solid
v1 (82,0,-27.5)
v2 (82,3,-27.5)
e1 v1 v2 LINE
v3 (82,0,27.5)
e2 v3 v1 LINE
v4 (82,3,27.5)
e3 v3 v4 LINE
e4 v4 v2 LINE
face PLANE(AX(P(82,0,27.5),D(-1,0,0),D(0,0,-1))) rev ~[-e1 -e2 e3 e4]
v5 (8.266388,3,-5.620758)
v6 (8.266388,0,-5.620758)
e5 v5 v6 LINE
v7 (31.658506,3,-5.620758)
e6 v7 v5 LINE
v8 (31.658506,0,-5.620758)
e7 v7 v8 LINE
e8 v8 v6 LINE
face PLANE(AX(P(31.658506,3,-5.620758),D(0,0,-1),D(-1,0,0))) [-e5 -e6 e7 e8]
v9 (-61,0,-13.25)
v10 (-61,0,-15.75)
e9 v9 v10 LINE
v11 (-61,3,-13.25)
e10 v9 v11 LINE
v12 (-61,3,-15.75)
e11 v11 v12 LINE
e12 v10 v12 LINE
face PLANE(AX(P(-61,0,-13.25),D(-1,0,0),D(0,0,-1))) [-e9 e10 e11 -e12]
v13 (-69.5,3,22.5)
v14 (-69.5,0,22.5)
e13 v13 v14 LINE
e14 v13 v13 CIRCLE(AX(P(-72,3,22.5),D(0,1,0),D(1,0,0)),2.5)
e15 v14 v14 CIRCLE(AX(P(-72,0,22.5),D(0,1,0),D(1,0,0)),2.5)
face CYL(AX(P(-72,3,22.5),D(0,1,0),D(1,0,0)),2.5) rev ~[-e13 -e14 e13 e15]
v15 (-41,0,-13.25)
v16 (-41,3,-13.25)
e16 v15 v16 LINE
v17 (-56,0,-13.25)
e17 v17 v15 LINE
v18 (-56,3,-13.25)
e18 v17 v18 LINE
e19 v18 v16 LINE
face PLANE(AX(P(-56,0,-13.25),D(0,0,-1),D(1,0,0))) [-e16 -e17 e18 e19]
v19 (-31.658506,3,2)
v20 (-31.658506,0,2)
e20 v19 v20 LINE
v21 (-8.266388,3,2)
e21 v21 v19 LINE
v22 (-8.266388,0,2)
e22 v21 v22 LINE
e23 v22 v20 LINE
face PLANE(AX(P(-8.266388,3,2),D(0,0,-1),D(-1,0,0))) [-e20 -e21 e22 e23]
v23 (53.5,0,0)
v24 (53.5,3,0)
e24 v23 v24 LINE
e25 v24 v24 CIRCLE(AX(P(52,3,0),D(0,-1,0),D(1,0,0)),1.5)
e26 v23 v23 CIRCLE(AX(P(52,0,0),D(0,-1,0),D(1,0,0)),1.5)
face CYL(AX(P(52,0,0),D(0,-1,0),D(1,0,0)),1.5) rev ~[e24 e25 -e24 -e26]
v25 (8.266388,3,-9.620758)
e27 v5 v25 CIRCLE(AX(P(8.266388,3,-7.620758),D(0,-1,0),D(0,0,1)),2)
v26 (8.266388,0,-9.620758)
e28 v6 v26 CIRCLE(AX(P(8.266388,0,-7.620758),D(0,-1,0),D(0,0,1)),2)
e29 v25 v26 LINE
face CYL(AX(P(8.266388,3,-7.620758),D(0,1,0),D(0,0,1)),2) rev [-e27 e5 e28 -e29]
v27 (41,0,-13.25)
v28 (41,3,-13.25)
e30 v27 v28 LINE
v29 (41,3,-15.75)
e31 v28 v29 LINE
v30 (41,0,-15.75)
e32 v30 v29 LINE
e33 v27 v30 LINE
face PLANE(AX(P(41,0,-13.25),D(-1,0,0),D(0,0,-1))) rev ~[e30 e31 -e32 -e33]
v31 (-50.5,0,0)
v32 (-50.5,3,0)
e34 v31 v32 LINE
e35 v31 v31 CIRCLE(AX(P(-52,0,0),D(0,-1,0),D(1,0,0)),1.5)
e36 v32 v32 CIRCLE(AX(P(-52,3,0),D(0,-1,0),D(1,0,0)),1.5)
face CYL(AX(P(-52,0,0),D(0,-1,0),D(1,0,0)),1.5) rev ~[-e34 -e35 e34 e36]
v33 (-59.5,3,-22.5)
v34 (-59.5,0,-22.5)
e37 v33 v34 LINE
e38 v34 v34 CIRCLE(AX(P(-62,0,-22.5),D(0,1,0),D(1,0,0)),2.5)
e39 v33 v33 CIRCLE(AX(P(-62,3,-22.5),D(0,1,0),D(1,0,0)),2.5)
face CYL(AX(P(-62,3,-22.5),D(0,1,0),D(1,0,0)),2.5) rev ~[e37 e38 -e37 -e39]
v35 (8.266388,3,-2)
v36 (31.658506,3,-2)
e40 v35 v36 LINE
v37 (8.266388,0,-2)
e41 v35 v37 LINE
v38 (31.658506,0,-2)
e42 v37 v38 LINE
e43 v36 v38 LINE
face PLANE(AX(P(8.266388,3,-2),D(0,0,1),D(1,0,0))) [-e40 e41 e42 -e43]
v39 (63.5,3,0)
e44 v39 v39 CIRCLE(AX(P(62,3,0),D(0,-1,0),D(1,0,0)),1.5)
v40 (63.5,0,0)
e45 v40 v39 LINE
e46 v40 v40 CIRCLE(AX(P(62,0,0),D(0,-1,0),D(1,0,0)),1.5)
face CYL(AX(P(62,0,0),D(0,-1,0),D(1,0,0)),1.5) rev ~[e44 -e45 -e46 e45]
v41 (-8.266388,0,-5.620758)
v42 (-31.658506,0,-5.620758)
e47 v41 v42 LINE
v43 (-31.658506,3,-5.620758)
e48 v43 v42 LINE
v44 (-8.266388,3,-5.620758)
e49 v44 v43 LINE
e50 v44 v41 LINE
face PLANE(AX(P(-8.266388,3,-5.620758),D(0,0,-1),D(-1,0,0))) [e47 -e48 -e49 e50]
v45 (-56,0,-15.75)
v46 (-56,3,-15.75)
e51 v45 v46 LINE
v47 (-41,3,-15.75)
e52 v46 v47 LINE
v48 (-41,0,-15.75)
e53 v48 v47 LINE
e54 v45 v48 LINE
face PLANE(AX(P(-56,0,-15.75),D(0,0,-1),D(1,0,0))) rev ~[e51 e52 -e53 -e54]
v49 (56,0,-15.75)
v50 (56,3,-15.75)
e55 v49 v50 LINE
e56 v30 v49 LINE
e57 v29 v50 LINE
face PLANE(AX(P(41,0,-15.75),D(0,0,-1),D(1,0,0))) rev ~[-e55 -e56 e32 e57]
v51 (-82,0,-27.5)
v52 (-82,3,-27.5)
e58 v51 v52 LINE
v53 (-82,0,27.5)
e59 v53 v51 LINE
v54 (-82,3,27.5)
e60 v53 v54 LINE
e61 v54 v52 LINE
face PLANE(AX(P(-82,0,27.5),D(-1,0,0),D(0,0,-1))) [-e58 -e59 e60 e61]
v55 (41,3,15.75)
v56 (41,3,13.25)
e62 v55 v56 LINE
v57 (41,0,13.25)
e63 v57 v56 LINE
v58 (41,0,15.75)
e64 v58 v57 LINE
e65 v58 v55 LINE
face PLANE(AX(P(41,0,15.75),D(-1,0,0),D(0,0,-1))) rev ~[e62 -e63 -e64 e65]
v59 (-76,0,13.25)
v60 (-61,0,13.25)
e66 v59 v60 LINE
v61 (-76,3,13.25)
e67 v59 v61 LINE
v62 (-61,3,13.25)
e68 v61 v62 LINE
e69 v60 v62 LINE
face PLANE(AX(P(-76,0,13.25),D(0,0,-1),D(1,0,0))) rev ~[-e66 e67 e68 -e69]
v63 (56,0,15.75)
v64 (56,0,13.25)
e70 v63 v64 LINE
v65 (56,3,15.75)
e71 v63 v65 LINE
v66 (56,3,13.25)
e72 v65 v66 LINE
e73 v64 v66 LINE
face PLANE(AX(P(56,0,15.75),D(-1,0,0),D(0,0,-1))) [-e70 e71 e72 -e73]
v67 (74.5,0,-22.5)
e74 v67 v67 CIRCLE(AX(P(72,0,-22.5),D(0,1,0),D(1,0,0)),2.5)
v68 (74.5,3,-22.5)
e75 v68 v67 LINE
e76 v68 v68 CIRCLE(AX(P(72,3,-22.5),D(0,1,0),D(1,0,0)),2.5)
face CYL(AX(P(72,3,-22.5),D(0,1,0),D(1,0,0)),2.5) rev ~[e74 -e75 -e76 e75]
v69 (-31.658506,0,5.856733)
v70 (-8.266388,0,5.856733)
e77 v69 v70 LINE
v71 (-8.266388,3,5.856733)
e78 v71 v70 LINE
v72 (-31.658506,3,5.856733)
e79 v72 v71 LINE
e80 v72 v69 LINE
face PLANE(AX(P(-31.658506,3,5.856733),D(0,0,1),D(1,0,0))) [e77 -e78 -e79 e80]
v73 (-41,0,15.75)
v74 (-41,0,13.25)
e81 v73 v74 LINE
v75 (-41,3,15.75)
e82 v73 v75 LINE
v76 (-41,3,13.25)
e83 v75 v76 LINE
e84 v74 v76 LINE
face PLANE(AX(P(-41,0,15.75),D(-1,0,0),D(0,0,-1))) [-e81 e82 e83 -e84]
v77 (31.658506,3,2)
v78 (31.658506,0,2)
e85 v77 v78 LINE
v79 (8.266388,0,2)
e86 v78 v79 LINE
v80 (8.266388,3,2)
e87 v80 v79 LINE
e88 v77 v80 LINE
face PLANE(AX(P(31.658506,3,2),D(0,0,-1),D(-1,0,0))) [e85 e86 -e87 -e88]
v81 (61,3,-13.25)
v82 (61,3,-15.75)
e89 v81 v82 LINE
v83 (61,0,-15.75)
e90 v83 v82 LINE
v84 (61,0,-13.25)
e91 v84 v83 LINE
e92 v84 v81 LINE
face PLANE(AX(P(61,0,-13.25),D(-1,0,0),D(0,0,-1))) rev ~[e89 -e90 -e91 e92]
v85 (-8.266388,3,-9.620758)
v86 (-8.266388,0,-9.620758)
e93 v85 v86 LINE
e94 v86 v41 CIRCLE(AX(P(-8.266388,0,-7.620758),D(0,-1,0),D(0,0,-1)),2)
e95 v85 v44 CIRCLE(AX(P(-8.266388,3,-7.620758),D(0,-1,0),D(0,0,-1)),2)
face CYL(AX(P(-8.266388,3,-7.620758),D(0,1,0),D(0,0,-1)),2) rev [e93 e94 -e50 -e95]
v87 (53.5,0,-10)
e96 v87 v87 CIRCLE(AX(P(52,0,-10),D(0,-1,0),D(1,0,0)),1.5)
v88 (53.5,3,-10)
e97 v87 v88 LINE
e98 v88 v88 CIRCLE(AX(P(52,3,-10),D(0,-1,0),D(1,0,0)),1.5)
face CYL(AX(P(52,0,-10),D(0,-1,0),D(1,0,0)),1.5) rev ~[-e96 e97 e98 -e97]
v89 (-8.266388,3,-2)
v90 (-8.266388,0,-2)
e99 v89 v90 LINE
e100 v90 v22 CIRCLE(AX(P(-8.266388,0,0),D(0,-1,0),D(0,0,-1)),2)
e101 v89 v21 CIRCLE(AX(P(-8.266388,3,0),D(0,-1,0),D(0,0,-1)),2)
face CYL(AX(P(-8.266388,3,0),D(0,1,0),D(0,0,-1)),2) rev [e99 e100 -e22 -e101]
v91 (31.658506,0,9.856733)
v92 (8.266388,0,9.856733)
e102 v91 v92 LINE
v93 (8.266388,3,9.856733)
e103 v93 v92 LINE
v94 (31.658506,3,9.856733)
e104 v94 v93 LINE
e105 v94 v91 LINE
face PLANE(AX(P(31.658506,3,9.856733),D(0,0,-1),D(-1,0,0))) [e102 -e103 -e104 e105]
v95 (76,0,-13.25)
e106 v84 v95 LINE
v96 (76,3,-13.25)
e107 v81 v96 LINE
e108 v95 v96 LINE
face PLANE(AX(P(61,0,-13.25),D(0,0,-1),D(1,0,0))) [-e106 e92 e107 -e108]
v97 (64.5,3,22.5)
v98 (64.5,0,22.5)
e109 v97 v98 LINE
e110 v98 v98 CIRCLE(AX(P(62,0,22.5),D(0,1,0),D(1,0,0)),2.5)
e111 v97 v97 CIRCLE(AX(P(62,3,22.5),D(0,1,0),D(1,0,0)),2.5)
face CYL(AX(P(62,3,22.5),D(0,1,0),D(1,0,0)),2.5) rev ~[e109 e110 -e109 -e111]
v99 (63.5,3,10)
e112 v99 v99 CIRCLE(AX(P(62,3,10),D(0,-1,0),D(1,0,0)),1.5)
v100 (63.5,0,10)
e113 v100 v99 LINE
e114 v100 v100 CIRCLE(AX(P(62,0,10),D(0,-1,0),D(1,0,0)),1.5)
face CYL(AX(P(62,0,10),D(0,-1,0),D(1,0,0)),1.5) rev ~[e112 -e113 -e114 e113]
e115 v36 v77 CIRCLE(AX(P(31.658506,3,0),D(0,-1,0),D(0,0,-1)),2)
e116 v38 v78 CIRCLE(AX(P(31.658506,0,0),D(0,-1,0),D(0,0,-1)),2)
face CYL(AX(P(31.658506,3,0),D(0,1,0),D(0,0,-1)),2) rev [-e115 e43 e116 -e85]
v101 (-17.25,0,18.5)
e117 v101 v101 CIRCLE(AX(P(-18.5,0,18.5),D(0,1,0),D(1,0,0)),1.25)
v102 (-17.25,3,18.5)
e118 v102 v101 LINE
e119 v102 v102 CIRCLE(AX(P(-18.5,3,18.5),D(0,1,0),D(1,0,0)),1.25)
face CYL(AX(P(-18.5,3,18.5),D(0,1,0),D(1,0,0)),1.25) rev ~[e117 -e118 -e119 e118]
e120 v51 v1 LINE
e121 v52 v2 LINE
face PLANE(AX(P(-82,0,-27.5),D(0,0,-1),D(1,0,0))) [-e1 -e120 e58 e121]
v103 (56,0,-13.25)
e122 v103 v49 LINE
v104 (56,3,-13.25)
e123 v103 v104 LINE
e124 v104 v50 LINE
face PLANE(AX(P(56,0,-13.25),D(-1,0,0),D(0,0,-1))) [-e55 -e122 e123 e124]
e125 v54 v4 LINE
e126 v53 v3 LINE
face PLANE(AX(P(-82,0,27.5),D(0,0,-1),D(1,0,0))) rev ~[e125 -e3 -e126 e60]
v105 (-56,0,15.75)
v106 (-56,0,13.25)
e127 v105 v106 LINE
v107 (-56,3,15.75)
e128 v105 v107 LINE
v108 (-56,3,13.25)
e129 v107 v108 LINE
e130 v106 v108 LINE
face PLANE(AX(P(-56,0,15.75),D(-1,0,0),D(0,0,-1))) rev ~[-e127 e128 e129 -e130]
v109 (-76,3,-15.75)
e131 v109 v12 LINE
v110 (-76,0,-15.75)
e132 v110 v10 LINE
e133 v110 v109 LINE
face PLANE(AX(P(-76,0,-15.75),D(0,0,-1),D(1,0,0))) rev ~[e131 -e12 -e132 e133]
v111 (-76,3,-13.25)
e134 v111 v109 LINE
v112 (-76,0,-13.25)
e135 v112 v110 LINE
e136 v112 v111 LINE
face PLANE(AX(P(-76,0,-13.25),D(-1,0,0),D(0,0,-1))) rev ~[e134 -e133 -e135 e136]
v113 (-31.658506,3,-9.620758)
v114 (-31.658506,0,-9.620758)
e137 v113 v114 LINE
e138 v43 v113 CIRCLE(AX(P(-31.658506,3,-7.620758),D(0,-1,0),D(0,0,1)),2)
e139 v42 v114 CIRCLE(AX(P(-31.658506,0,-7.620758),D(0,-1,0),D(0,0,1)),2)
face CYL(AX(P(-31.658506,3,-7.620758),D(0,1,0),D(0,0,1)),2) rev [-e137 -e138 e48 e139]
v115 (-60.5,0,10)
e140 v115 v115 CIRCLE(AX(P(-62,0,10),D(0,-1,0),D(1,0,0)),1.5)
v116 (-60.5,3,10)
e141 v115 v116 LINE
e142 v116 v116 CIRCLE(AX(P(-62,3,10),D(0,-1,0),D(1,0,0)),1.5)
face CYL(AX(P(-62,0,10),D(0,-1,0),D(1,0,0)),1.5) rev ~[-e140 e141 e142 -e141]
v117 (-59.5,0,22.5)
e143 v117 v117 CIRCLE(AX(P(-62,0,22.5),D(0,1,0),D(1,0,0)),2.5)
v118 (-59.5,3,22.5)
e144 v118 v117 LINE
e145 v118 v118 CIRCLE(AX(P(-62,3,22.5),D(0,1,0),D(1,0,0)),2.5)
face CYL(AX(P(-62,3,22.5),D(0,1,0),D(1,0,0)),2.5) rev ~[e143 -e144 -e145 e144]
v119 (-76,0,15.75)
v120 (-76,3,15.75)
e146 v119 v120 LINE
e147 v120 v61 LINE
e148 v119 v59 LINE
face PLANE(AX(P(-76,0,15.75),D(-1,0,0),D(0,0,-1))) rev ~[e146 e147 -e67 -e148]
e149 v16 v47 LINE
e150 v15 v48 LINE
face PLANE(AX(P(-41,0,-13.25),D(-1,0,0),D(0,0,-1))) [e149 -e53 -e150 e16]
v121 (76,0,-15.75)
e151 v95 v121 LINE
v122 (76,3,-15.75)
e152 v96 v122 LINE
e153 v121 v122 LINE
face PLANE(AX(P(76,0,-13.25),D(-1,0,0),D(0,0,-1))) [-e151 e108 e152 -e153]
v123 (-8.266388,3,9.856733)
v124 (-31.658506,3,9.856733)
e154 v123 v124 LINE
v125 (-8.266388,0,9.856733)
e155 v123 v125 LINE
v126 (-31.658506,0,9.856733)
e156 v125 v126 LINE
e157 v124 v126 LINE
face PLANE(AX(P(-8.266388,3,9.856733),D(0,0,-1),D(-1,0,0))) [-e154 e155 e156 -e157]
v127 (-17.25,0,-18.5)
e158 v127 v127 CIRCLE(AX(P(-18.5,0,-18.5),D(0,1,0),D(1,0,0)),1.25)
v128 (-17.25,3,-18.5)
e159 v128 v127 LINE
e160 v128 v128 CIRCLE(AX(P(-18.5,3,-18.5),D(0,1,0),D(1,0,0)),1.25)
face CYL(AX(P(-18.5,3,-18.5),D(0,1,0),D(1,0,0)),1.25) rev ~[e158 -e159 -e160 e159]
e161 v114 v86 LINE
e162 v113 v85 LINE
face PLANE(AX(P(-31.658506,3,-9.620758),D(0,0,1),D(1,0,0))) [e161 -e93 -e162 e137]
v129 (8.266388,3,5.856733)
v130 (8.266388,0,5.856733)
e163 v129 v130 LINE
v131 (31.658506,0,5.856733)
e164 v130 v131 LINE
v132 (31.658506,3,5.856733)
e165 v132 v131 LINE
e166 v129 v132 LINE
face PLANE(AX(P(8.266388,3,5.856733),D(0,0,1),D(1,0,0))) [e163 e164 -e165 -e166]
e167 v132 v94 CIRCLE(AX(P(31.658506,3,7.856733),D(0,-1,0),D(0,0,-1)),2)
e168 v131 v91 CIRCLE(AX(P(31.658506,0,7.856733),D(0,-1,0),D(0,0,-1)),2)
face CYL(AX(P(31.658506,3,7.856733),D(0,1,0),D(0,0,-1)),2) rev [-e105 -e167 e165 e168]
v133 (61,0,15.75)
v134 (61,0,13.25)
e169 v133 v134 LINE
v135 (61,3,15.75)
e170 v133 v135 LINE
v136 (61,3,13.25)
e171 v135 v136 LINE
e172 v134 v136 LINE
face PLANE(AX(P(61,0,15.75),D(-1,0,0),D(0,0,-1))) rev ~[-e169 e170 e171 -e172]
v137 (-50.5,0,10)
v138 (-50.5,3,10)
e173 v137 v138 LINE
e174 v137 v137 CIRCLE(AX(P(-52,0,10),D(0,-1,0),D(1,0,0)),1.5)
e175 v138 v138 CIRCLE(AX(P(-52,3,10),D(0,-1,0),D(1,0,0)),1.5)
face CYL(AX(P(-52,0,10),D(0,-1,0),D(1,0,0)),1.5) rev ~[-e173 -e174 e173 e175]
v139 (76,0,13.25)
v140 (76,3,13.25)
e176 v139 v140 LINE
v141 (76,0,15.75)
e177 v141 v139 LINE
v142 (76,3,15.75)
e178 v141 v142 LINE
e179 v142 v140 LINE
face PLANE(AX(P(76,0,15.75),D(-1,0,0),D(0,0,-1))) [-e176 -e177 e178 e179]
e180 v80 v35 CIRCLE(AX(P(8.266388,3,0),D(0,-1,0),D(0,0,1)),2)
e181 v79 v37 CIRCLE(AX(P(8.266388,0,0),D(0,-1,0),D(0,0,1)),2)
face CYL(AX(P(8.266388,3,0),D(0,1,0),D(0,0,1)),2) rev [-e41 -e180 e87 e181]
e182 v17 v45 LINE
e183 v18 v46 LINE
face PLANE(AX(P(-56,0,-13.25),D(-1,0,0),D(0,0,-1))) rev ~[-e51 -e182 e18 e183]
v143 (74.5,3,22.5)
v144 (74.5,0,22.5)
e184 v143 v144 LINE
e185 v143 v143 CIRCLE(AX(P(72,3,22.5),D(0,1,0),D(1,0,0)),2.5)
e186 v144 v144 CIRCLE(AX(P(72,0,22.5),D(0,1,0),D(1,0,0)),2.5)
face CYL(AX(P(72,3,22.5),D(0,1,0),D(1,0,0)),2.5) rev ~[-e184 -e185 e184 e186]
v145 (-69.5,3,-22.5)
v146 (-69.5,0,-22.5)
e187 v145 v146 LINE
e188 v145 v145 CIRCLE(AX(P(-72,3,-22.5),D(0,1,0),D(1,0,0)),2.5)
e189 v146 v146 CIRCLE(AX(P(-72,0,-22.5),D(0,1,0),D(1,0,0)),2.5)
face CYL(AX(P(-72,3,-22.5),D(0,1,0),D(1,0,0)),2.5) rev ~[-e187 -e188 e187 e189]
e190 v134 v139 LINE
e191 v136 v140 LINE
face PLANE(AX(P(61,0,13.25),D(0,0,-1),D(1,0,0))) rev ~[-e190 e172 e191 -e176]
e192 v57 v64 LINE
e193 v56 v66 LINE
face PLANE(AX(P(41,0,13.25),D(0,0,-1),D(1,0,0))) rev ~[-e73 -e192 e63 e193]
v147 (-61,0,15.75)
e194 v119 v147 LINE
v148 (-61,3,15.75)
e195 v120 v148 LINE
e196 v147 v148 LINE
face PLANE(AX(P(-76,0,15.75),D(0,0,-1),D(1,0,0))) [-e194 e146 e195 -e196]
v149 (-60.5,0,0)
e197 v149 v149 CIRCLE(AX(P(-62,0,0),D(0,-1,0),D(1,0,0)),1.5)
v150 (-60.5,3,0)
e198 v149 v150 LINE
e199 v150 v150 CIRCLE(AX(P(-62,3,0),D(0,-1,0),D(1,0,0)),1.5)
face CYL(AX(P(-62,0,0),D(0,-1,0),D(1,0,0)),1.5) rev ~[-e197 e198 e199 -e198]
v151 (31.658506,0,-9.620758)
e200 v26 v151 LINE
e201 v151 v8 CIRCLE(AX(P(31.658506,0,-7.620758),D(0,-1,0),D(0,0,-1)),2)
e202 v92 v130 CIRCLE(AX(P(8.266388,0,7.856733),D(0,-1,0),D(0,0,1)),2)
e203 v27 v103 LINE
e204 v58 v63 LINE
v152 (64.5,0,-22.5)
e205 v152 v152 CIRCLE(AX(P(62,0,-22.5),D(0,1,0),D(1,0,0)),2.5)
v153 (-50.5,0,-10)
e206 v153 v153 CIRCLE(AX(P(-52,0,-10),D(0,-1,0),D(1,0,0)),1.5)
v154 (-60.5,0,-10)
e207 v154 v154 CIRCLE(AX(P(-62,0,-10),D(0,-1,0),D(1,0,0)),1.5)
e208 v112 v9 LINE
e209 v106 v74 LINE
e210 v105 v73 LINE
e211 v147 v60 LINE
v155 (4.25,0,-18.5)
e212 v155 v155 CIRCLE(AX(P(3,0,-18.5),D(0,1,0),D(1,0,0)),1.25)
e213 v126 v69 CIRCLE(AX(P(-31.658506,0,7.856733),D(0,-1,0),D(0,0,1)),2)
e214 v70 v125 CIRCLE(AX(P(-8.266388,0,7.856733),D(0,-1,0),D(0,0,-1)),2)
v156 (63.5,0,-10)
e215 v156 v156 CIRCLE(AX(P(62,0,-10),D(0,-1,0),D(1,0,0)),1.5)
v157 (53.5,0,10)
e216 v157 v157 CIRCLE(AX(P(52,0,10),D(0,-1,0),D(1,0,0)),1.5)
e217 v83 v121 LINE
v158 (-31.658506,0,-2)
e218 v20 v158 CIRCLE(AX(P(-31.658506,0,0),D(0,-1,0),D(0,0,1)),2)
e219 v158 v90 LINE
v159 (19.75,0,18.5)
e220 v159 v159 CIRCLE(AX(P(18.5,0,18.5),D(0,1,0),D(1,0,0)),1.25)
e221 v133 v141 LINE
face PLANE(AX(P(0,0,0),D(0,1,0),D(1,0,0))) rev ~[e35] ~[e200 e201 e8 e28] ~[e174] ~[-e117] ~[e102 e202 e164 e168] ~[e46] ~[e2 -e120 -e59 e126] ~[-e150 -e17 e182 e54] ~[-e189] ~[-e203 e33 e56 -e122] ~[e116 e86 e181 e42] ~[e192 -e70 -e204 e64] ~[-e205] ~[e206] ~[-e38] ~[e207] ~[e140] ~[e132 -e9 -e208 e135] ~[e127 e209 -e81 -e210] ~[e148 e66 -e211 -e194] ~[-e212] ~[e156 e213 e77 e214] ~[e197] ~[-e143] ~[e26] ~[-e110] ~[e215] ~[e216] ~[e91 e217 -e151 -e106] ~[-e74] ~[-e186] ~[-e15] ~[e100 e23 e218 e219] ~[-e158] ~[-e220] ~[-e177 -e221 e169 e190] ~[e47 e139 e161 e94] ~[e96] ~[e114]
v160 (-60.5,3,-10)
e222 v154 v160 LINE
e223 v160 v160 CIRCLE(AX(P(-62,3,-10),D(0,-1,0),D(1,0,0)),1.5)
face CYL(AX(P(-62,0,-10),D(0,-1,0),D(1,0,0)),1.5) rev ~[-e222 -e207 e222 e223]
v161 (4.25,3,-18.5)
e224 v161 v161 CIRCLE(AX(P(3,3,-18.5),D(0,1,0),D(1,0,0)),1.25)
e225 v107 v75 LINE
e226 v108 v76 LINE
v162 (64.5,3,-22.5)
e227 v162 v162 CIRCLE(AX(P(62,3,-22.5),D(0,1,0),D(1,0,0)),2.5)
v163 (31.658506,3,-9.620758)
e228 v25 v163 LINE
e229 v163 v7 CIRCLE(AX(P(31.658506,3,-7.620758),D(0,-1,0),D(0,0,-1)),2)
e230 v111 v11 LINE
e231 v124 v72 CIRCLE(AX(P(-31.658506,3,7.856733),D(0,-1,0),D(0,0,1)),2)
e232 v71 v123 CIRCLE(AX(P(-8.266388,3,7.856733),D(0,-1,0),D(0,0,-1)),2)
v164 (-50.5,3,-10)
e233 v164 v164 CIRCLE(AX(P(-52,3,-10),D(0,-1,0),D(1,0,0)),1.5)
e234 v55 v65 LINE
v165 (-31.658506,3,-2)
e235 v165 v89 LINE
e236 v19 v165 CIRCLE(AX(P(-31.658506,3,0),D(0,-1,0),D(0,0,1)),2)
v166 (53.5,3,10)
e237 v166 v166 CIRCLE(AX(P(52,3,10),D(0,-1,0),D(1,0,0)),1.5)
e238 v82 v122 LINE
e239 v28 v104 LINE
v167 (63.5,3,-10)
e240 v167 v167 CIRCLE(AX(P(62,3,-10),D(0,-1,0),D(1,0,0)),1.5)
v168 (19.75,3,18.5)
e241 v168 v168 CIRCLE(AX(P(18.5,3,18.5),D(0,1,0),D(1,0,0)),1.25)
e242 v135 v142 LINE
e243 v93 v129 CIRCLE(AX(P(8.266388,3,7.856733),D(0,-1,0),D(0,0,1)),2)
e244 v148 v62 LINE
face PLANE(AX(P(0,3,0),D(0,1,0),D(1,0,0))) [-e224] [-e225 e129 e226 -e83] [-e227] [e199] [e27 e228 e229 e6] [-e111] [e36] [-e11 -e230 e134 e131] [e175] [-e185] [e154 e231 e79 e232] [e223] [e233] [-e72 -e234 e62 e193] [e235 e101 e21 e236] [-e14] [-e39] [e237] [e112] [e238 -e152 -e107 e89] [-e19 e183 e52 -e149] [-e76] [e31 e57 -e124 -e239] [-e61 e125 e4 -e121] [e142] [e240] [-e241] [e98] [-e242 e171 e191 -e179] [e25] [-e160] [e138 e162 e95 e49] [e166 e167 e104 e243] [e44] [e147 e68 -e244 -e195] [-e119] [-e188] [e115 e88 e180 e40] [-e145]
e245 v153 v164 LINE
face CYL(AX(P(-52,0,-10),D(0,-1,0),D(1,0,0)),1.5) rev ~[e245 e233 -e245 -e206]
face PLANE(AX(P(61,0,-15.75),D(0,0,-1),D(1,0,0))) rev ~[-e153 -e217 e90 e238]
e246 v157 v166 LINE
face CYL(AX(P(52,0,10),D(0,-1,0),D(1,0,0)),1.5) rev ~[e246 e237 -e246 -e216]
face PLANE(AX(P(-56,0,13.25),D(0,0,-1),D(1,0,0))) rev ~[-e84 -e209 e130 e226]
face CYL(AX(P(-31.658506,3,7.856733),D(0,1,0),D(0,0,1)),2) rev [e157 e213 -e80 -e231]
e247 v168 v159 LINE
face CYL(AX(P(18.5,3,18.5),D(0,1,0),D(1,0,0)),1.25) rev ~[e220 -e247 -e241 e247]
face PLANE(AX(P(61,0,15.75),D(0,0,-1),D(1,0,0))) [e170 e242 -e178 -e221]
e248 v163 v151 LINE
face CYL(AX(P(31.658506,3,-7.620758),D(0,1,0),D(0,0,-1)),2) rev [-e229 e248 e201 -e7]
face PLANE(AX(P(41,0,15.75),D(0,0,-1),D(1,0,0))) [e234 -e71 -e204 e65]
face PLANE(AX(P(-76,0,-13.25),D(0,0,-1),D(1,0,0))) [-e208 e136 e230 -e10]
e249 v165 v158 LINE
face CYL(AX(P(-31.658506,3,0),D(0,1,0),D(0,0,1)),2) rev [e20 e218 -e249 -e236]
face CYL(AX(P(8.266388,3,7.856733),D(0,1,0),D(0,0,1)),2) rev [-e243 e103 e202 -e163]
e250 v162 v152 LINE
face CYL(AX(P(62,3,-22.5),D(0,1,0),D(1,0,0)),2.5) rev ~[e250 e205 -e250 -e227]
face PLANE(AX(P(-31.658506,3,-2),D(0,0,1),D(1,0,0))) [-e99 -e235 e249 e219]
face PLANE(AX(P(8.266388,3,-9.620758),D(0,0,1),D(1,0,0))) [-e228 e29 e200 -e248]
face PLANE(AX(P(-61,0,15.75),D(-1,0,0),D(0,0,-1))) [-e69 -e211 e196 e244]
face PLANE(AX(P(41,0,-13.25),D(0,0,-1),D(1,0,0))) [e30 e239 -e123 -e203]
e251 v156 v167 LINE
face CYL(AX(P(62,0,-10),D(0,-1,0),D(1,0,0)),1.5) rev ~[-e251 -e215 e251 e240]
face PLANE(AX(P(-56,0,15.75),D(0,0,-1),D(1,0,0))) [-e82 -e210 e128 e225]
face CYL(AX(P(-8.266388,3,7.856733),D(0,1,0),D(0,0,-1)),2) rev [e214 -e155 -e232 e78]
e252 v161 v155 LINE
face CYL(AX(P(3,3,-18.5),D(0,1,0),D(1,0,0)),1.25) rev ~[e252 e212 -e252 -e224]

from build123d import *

# Parameters (mm, degrees)
SKETCH1_W           = 164
SKETCH1_H           = 55
SKETCH1_W_2         = 15
SKETCH1_H_2         = 2.5
BOSS_EXTRUDE1_DEPTH = 3
CUT_EXTRUDE1_DEPTH  = 3
SKETCH3_R           = 1.25
CUT_EXTRUDE2_DEPTH  = 10
SKETCH4_R           = 2.5
CUT_EXTRUDE3_DEPTH  = 4
SKETCH5_R           = 1.5
CUT_EXTRUDE4_DEPTH  = 10


with BuildPart() as part:
    # Sketch1 → Boss-Extrude1 (new body)
    with BuildSketch(Plane(origin=(0, 0, 0), x_dir=(1, 0, 0), z_dir=(0, 1, 0))):
        Rectangle(SKETCH1_W, SKETCH1_H)
        with Locations((48.5, 14.5)):
            Rectangle(SKETCH1_W_2, SKETCH1_H_2, mode=Mode.SUBTRACT)
        with Locations((68.5, 14.5)):
            Rectangle(SKETCH1_W_2, SKETCH1_H_2, mode=Mode.SUBTRACT)
        with Locations((68.5, -14.5)):
            Rectangle(SKETCH1_W_2, SKETCH1_H_2, mode=Mode.SUBTRACT)
        with Locations((48.5, -14.5)):
            Rectangle(SKETCH1_W_2, SKETCH1_H_2, mode=Mode.SUBTRACT)
        with Locations((-48.5, -14.5)):
            Rectangle(SKETCH1_W_2, SKETCH1_H_2, mode=Mode.SUBTRACT)
        with Locations((-68.5, -14.5)):
            Rectangle(SKETCH1_W_2, SKETCH1_H_2, mode=Mode.SUBTRACT)
        with Locations((-68.5, 14.5)):
            Rectangle(SKETCH1_W_2, SKETCH1_H_2, mode=Mode.SUBTRACT)
        with Locations((-48.5, 14.5)):
            Rectangle(SKETCH1_W_2, SKETCH1_H_2, mode=Mode.SUBTRACT)
    extrude(amount=BOSS_EXTRUDE1_DEPTH)

    # Sketch2 → Cut-Extrude1 (cut)
    with BuildSketch(Plane(origin=(0, 3, 0), x_dir=(1, 0, 0), z_dir=(0, 1, 0))):
        with BuildLine():
            Line((-31.658505885, 2), (-8.266387648, 2))
            ThreePointArc((-8.266387648, 2), (-6.266387648, 0), (-8.266387648, -2))
            Line((-8.266387648, -2), (-31.658505885, -2))
            ThreePointArc((-31.658505885, -2), (-33.658505885, 0), (-31.658505885, 2))
        make_face()
        with BuildLine():
            Line((31.658505885, -9.856733432), (8.266387648, -9.856733432))
            ThreePointArc((8.266387648, -9.856733432), (6.266387648, -7.856733432), (8.266387648, -5.856733432))
            Line((8.266387648, -5.856733432), (31.658505885, -5.856733432))
            ThreePointArc((31.658505885, -5.856733432), (33.658505885, -7.856733432), (31.658505885, -9.856733432))
        make_face()
        with BuildLine():
            Line((-31.658505885, 9.620758334), (-8.266387648, 9.620758334))
            ThreePointArc((-8.266387648, 9.620758334), (-6.266387648, 7.620758334), (-8.266387648, 5.620758334))
            Line((-8.266387648, 5.620758334), (-31.658505885, 5.620758334))
            ThreePointArc((-31.658505885, 5.620758334), (-33.658505885, 7.620758334), (-31.658505885, 9.620758334))
        make_face()
        with BuildLine():
            Line((31.658505885, 5.620758334), (8.266387648, 5.620758334))
            ThreePointArc((8.266387648, 5.620758334), (6.266387648, 7.620758334), (8.266387648, 9.620758334))
            Line((8.266387648, 9.620758334), (31.658505885, 9.620758334))
            ThreePointArc((31.658505885, 9.620758334), (33.658505885, 7.620758334), (31.658505885, 5.620758334))
        make_face()
        with BuildLine():
            Line((-31.658505885, -5.856733432), (-8.266387648, -5.856733432))
            ThreePointArc((-8.266387648, -5.856733432), (-6.266387648, -7.856733432), (-8.266387648, -9.856733432))
            Line((-8.266387648, -9.856733432), (-31.658505885, -9.856733432))
            ThreePointArc((-31.658505885, -9.856733432), (-33.658505885, -7.856733432), (-31.658505885, -5.856733432))
        make_face()
        with BuildLine():
            Line((31.658505885, -2), (8.266387648, -2))
            ThreePointArc((8.266387648, -2), (6.266387648, 0), (8.266387648, 2))
            Line((8.266387648, 2), (31.658505885, 2))
            ThreePointArc((31.658505885, 2), (33.658505885, 0), (31.658505885, -2))
        make_face()
    extrude(amount=-CUT_EXTRUDE1_DEPTH, mode=Mode.SUBTRACT)

    # Sketch3 → Cut-Extrude2 (cut)
    with BuildSketch(Plane(origin=(0, 3, 0), x_dir=(1, 0, 0), z_dir=(0, 1, 0))):
        with Locations((18.5, -18.5)):
            Circle(SKETCH3_R)
        with Locations((-18.5, -18.5)):
            Circle(SKETCH3_R)
        with Locations((-18.5, 18.5)):
            Circle(SKETCH3_R)
        with Locations((3, 18.5)):
            Circle(SKETCH3_R)
    extrude(amount=-CUT_EXTRUDE2_DEPTH, mode=Mode.SUBTRACT)

    # Sketch4 → Cut-Extrude3 (cut, through all)
    with BuildSketch(Plane(origin=(0, 3, 0), x_dir=(1, 0, 0), z_dir=(0, 1, 0))):
        with Locations((72, -22.5)):
            Circle(SKETCH4_R)
        with Locations((62, -22.5)):
            Circle(SKETCH4_R)
        with Locations((72, 22.5)):
            Circle(SKETCH4_R)
        with Locations((62, 22.5)):
            Circle(SKETCH4_R)
        with Locations((-72, 22.5)):
            Circle(SKETCH4_R)
        with Locations((-62, 22.5)):
            Circle(SKETCH4_R)
        with Locations((-72, -22.5)):
            Circle(SKETCH4_R)
        with Locations((-62, -22.5)):
            Circle(SKETCH4_R)
    extrude(amount=-CUT_EXTRUDE3_DEPTH, mode=Mode.SUBTRACT)

    # Sketch5 → Cut-Extrude4 (cut)
    with BuildSketch(Plane.XZ):
        with Locations((52, 10)):
            Circle(SKETCH5_R)
        with Locations((62, 10)):
            Circle(SKETCH5_R)
        with Locations((62, 0)):
            Circle(SKETCH5_R)
        with Locations((52, 0)):
            Circle(SKETCH5_R)
        with Locations((52, -10)):
            Circle(SKETCH5_R)
        with Locations((62, -10)):
            Circle(SKETCH5_R)
        with Locations((-52, 10)):
            Circle(SKETCH5_R)
        with Locations((-52, 0)):
            Circle(SKETCH5_R)
        with Locations((-52, -10)):
            Circle(SKETCH5_R)
        with Locations((-62, 10)):
            Circle(SKETCH5_R)
        with Locations((-62, 0)):
            Circle(SKETCH5_R)
        with Locations((-62, -10)):
            Circle(SKETCH5_R)
    extrude(amount=-CUT_EXTRUDE4_DEPTH, mode=Mode.SUBTRACT)


solid = part.part
